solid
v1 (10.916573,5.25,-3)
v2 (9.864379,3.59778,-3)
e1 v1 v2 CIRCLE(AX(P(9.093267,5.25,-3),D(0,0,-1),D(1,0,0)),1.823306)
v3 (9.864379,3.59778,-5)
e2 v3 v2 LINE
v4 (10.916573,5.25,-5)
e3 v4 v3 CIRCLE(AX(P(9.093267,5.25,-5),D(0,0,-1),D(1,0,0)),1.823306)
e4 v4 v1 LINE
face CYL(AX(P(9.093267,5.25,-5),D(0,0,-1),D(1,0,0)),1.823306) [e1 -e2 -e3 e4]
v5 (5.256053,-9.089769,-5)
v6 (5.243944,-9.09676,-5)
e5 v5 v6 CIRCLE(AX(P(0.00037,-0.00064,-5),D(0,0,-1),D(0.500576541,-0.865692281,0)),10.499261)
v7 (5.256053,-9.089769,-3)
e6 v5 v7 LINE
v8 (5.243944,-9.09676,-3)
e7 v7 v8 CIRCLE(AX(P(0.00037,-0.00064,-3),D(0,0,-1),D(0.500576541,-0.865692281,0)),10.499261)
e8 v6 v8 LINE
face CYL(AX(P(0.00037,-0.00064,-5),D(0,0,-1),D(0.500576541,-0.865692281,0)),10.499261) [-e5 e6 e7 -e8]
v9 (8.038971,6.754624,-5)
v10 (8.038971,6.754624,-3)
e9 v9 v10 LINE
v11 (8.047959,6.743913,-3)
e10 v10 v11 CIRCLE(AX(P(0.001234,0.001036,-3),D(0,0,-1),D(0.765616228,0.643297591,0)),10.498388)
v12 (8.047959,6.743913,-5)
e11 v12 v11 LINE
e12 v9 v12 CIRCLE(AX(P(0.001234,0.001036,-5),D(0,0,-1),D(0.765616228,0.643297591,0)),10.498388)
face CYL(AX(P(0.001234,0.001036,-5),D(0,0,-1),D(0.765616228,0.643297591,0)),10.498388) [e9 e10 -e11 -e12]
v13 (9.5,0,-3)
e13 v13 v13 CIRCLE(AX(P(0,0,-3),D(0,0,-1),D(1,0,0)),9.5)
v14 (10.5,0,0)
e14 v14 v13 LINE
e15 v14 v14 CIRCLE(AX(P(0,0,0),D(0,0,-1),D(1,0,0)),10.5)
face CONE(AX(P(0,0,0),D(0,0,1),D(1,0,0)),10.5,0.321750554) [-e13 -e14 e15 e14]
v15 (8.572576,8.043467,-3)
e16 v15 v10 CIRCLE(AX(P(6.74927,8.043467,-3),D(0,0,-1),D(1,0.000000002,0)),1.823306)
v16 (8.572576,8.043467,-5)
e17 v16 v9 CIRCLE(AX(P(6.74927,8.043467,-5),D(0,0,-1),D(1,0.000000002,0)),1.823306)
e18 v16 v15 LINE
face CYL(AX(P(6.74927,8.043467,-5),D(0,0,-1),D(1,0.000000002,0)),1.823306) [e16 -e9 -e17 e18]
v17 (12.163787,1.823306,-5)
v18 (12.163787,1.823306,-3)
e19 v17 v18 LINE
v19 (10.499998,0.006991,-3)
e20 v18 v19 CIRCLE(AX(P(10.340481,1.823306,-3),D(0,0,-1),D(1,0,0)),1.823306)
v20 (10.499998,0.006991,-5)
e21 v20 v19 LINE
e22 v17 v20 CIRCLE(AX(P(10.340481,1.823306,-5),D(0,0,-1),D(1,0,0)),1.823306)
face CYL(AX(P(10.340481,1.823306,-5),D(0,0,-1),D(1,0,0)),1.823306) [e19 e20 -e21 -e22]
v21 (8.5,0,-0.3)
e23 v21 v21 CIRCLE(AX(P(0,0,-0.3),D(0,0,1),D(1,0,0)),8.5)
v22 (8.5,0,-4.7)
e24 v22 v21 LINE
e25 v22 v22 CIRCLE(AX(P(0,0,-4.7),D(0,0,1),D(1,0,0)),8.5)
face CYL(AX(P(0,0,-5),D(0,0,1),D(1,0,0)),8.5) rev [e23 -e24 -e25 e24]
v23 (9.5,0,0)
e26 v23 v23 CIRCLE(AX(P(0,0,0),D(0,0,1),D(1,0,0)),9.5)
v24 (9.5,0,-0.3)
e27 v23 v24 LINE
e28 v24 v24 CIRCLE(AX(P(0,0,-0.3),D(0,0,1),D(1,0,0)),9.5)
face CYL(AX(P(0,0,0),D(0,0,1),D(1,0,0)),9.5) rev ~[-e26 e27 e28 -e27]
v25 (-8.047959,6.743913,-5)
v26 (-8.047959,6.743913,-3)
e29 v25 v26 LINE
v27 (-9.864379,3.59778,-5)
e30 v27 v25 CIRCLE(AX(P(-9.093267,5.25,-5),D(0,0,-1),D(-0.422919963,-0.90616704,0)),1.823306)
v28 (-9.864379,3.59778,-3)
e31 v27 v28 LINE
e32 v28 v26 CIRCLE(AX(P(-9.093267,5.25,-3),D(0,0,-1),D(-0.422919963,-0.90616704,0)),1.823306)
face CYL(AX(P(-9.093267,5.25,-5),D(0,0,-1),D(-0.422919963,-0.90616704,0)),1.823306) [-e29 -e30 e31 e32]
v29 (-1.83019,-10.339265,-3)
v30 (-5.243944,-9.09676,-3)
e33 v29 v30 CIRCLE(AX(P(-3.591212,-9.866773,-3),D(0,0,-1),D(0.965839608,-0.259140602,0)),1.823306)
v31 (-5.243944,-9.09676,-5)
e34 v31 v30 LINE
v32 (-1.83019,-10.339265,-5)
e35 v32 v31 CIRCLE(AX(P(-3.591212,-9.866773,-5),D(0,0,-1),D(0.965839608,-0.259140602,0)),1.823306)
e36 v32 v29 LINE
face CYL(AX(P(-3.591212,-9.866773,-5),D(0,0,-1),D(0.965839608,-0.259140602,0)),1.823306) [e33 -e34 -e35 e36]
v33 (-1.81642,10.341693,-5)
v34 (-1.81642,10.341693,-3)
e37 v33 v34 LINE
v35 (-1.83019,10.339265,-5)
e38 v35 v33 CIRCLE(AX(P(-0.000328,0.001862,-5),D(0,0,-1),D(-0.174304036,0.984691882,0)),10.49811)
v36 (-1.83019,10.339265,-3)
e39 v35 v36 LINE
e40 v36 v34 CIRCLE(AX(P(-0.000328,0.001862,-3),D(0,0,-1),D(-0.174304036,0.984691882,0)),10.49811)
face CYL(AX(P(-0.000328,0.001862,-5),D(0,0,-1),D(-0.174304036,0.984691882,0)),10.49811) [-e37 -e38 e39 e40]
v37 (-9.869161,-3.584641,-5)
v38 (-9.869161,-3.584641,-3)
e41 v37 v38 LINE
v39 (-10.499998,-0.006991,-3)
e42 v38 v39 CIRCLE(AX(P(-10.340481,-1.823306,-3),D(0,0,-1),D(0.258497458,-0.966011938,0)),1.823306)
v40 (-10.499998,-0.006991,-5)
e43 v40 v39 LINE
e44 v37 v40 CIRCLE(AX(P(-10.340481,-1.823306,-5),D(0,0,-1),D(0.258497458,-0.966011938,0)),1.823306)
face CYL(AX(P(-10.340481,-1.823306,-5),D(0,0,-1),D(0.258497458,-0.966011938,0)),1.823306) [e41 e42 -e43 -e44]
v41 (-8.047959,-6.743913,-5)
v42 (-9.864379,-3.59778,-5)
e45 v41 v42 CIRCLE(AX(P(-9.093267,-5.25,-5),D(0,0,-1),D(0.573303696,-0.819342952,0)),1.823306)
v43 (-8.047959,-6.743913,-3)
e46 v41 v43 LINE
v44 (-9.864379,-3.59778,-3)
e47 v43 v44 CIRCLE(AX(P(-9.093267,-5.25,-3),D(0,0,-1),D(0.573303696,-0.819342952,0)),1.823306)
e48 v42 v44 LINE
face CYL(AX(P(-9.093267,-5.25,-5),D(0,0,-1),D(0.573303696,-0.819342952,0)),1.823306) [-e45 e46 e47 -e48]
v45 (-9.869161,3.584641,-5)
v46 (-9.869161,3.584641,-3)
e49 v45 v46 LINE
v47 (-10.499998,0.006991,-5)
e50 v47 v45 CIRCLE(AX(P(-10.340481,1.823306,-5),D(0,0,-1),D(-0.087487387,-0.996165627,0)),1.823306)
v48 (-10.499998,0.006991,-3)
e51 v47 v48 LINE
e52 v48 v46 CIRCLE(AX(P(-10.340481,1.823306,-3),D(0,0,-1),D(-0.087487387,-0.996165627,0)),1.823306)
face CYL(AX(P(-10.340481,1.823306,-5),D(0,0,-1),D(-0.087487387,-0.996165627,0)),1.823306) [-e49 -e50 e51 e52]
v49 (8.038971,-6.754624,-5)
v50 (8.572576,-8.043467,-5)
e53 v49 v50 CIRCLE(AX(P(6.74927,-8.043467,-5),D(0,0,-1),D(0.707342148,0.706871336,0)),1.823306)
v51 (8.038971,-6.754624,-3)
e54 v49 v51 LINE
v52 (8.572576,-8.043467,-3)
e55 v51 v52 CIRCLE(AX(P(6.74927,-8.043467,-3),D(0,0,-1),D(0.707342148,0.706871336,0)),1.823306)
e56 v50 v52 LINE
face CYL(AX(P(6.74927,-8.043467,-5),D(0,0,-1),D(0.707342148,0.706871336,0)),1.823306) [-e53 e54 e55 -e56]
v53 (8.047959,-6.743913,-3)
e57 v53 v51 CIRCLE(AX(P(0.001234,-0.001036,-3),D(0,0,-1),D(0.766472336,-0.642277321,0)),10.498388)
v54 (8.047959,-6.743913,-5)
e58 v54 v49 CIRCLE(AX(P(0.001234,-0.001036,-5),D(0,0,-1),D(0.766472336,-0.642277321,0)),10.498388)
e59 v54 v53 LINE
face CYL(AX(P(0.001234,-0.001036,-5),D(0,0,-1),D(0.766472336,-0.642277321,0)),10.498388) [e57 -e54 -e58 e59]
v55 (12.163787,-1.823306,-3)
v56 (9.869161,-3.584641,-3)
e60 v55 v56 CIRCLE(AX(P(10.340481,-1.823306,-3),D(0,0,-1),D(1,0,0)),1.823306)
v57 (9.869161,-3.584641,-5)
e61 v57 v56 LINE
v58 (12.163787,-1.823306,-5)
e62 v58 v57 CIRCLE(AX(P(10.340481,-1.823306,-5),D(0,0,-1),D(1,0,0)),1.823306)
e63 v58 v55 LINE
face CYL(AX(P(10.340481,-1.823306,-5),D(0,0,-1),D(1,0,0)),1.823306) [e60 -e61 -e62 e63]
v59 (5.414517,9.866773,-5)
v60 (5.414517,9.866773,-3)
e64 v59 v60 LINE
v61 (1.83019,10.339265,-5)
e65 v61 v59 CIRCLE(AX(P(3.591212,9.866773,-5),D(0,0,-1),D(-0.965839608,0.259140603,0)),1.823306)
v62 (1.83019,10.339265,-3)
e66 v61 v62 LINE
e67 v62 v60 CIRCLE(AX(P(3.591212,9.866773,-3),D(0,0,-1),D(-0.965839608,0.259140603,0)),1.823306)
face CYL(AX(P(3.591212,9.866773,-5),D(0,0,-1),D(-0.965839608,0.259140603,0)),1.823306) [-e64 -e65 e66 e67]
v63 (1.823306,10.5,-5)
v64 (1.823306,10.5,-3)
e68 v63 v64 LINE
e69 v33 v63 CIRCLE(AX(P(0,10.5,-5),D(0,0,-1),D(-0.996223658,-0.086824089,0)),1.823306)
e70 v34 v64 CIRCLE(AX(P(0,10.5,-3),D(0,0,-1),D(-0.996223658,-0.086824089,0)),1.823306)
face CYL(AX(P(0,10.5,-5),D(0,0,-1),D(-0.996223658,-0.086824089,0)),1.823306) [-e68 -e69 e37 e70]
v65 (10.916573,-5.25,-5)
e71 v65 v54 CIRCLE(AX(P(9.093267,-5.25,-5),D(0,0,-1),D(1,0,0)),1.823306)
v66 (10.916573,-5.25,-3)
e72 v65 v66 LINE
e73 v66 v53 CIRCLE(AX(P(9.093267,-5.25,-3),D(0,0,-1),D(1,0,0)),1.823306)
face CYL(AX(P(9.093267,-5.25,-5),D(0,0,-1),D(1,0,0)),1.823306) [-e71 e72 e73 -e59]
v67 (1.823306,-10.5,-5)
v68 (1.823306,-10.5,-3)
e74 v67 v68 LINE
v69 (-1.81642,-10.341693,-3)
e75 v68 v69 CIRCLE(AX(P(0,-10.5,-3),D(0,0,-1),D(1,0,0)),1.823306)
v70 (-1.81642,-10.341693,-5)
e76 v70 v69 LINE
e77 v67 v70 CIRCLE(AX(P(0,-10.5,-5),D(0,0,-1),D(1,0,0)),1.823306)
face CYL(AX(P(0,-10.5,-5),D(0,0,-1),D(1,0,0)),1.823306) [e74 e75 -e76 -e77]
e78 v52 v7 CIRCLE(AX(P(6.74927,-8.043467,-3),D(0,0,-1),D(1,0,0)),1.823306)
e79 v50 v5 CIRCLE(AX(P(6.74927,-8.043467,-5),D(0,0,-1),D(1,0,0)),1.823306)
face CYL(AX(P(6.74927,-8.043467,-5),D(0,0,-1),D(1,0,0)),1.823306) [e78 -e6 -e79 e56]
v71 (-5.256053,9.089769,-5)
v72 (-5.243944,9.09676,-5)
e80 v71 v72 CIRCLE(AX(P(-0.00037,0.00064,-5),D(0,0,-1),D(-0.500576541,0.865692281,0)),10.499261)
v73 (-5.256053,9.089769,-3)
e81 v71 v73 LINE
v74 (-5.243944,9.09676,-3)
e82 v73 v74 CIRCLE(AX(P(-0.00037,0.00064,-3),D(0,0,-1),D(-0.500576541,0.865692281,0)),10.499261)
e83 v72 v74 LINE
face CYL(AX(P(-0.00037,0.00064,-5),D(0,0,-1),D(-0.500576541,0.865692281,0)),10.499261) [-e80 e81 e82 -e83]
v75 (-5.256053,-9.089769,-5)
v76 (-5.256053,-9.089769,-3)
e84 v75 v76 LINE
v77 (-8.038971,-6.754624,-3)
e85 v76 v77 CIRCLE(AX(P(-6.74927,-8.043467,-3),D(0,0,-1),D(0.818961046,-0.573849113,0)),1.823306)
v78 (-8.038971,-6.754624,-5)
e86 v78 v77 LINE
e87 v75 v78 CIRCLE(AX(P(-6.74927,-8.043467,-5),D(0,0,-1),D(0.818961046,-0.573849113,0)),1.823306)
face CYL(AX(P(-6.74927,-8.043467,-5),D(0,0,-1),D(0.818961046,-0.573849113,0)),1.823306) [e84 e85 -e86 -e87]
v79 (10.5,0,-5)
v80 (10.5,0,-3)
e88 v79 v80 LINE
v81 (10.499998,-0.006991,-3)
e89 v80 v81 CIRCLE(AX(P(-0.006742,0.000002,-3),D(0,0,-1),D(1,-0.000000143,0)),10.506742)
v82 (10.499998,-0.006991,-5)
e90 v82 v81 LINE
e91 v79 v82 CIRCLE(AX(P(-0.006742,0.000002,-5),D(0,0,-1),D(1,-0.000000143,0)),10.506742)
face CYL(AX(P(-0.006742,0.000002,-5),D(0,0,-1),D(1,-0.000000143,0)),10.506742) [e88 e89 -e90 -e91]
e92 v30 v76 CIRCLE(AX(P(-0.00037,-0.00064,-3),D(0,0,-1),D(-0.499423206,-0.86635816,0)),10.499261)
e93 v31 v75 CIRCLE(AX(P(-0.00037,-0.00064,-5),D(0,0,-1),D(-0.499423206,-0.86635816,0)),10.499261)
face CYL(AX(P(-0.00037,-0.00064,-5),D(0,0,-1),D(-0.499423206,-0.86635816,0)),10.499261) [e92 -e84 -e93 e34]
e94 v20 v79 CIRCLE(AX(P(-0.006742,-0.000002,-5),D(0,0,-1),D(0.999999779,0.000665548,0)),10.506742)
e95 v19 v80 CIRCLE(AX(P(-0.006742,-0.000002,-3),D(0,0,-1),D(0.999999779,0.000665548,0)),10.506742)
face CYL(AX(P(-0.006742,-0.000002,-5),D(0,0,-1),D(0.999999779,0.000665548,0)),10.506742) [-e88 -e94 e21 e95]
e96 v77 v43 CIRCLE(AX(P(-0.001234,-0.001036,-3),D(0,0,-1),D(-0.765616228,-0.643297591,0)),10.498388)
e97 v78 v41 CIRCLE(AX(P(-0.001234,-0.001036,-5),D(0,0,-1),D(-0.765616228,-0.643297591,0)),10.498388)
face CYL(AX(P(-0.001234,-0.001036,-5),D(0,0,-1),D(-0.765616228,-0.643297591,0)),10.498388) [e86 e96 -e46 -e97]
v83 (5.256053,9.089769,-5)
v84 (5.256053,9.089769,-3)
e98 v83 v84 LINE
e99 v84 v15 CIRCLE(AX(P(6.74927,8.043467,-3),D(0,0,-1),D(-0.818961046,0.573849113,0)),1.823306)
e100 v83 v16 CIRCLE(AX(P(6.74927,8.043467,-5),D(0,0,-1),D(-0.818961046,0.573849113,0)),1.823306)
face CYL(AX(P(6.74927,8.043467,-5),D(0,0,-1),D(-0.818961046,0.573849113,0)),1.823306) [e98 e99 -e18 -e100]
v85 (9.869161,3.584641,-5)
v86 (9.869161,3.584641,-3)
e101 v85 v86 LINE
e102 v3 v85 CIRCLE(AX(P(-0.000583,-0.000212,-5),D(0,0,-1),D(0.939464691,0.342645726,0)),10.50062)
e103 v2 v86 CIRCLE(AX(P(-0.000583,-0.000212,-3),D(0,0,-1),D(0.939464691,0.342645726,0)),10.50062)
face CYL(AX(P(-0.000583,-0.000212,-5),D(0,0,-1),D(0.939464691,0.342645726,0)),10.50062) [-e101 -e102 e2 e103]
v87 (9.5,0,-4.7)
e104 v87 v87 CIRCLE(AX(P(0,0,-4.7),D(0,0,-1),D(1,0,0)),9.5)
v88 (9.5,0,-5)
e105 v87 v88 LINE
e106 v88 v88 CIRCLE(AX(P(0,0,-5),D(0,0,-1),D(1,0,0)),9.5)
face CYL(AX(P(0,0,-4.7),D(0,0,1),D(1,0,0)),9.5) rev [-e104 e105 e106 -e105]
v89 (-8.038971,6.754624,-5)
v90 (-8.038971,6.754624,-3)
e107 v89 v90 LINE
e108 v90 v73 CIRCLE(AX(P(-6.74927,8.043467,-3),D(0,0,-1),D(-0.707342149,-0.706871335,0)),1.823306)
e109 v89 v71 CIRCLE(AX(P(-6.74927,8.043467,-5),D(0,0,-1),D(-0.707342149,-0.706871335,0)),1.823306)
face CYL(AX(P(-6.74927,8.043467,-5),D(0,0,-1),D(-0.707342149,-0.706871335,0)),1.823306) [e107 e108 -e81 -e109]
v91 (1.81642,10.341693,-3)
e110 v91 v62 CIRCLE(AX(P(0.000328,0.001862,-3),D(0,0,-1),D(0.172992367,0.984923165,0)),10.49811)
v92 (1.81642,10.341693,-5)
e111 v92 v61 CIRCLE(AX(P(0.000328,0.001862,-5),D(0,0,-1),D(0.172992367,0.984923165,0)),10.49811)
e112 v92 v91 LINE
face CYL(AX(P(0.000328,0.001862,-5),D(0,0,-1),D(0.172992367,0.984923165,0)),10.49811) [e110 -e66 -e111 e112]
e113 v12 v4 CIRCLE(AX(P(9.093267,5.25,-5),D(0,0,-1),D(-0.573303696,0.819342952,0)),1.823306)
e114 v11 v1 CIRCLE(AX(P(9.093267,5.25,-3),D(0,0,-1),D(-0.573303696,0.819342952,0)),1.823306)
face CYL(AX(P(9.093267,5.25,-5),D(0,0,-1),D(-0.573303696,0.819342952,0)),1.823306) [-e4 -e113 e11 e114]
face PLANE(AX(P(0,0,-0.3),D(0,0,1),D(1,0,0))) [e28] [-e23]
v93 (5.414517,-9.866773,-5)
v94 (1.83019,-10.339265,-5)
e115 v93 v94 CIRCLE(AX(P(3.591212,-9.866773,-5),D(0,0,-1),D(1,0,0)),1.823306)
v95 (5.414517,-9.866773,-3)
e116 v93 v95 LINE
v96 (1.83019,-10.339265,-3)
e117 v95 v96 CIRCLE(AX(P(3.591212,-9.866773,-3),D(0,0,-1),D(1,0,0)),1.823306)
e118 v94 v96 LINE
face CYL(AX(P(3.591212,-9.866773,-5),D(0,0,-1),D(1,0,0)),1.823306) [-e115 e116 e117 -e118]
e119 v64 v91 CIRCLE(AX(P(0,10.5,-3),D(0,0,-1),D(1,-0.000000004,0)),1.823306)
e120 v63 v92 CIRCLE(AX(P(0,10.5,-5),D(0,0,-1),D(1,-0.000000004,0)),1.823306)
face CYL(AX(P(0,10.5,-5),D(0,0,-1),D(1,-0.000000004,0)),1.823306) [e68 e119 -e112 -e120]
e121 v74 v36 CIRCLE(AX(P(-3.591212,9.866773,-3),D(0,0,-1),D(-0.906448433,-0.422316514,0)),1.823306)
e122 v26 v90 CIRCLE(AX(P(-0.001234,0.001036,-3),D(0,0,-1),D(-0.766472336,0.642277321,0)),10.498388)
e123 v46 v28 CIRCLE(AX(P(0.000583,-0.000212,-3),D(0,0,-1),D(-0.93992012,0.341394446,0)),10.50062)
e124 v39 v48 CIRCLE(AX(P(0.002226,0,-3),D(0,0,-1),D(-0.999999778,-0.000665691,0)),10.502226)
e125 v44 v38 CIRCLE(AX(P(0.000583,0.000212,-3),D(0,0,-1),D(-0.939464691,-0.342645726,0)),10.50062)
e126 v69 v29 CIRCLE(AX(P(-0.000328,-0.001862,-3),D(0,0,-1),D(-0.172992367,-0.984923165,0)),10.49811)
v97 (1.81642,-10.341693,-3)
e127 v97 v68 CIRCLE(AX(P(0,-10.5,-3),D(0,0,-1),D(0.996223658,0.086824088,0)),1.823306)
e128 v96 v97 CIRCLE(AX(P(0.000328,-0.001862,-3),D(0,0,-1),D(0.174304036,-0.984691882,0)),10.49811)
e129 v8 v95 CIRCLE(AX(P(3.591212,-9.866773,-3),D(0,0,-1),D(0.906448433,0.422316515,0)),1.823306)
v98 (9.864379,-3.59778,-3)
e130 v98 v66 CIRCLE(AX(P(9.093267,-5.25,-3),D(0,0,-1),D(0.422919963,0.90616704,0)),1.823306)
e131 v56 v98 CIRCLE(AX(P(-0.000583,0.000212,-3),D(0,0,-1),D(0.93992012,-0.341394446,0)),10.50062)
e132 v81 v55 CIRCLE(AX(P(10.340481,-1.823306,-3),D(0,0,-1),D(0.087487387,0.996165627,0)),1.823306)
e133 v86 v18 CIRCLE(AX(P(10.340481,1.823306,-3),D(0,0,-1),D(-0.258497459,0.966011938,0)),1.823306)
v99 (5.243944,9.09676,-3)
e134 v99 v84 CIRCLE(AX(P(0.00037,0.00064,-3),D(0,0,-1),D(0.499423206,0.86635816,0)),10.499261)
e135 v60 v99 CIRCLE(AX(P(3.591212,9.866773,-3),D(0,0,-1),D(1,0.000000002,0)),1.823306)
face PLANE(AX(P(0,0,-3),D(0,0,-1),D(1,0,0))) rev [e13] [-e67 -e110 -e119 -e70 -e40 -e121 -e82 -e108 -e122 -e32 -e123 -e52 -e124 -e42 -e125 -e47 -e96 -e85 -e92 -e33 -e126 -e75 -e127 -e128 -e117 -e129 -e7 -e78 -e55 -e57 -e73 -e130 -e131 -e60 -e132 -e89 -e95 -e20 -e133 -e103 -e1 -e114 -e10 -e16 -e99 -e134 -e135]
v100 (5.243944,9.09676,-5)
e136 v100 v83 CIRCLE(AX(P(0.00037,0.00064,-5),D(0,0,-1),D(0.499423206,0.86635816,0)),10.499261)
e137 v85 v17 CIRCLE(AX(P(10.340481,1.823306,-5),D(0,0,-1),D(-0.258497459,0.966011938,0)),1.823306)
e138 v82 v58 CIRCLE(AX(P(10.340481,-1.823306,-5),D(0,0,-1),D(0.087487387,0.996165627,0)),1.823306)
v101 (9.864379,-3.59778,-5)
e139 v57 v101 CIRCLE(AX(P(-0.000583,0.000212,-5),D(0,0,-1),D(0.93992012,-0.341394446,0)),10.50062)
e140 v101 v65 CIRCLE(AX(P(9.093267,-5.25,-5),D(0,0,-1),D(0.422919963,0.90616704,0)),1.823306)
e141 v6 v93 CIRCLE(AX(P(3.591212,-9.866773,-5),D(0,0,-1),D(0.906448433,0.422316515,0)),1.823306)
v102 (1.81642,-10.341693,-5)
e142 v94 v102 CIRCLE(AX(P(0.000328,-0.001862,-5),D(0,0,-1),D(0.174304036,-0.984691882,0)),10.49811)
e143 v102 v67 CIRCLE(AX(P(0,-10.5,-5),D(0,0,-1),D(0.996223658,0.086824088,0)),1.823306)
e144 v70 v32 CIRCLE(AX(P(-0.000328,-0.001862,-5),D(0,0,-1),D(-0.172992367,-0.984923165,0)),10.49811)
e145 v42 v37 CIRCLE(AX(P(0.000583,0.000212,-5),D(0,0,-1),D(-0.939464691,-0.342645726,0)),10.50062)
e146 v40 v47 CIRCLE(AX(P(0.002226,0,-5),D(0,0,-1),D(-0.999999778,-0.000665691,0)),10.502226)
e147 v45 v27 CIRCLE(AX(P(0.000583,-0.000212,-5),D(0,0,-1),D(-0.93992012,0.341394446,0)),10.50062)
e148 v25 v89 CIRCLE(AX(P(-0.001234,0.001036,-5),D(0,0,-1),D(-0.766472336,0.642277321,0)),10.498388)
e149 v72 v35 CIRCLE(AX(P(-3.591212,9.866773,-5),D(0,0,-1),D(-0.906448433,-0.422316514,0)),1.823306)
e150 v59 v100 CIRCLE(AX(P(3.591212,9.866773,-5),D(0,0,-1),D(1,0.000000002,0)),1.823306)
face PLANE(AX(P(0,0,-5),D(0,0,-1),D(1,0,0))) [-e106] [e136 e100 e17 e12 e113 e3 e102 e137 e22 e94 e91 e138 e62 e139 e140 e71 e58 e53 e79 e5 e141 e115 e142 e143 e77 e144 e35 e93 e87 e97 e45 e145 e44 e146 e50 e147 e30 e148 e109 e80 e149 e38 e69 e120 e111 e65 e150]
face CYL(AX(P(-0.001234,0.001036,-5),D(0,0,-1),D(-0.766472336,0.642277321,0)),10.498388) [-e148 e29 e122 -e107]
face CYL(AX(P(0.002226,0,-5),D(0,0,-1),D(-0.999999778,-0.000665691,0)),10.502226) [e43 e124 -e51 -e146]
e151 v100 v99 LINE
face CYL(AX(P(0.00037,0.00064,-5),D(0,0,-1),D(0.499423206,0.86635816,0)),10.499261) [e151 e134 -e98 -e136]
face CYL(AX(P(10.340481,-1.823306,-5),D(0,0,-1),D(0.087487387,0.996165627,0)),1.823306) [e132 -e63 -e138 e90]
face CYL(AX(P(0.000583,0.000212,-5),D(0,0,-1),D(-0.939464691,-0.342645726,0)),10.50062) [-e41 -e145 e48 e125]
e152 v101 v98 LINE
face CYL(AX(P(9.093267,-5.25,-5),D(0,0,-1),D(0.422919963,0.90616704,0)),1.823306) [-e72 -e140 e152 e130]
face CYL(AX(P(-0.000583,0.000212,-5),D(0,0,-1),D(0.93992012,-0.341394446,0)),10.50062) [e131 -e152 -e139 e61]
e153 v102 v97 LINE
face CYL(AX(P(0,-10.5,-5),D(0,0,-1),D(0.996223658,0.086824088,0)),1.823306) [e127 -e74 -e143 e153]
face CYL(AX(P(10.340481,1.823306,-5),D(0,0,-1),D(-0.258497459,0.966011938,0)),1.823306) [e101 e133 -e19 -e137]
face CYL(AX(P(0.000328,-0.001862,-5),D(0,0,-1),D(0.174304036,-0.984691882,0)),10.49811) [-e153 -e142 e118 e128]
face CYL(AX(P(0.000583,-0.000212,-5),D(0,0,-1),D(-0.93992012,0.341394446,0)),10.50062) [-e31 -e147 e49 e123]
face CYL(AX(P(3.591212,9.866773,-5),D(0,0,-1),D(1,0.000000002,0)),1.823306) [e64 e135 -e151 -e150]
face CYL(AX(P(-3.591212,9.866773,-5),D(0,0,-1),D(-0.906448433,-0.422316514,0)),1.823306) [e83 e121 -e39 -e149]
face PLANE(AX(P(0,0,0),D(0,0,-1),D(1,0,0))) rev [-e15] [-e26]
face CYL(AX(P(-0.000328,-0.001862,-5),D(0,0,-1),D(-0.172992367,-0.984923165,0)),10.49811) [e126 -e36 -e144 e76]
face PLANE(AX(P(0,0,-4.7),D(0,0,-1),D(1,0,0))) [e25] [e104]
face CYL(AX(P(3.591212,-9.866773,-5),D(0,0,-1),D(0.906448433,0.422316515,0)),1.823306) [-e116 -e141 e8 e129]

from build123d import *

# Parameters (mm, degrees)
CUT_EXTRUDE_START   = -2
SKETCH_2_R          = 13.5
CUT_EXTRUDE_3_DEPTH = 2
SKETCH_3_R          = 9.5
CUT_EXTRUDE_4_DEPTH = 0.3
CUT_EXTRUDE_START_2 = -0.3
SKETCH_4_R          = 9.5
CUT_EXTRUDE_5_DEPTH = 0.3


with BuildPart() as part:
    # 草图1 → 旋转1 (revolve)
    with BuildSketch(Plane(origin=(0, 0, 0), x_dir=(0, 0, -1), z_dir=(1, 0, 0)), mode=Mode.PRIVATE) as revolve_1_sk:
        Polygon((0, 8.5), (0, 10.5), (3, 9.5), (3, 13.5), (5, 13.5), (5, 8.5), align=None)
    revolve(revolve_1_sk.sketch.rotate(Axis((0, 0, 0), (0, 0, -1)), 90), axis=Axis((0, 0, 0), (0, 0, -1)))

    # 草图2 → 切除-拉伸3 (cut)
    with BuildSketch(Plane.XY.offset(-3).offset(CUT_EXTRUDE_START)):
        Circle(SKETCH_2_R)
        with BuildLine():
            ThreePointArc((10.499997673, 0.006991234), (10.499999418, 0.003495617), (10.5, 0))
            ThreePointArc((10.5, 0), (10.499999418, -0.003495617), (10.499997673, -0.006991234))
            ThreePointArc((10.499997673, -0.006991234), (11.684968525, -0.591722061), (12.163787272, -1.823305866))
            ThreePointArc((12.163787272, -1.823305866), (11.450680461, -3.269646883), (9.869161474, -3.584641098))
            ThreePointArc((9.869161474, -3.584641098), (9.866772518, -3.591211505), (9.864379188, -3.59778032))
            ThreePointArc((9.864379188, -3.59778032), (10.631190361, -4.270594459), (10.916572605, -5.25))
            ThreePointArc((10.916572605, -5.25), (9.935444894, -6.86715189), (8.047958748, -6.74391281))
            ThreePointArc((8.047958748, -6.74391281), (8.043466653, -6.749269902), (8.038970991, -6.754624002))
            ThreePointArc((8.038970991, -6.754624002), (8.433900995, -7.345998116), (8.572575767, -8.043466653))
            ThreePointArc((8.572575767, -8.043466653), (7.297837999, -9.782293074), (5.256053423, -9.089769107))
            ThreePointArc((5.256053423, -9.089769107), (5.25, -9.09326674), (5.24394425, -9.096760341))
            ThreePointArc((5.24394425, -9.096760341), (5.371363407, -9.472433216), (5.41451737, -9.866772518))
            ThreePointArc((5.41451737, -9.866772518), (3.829501581, -11.674440109), (1.830190483, -10.339265099))
            ThreePointArc((1.830190483, -10.339265099), (1.823305866, -10.340481407), (1.81642044, -10.34169313))
            ThreePointArc((1.81642044, -10.34169313), (1.821583696, -10.420771731), (1.823305866, -10.5))
            ThreePointArc((1.823305866, -10.5), (-0.079228269, -12.321583696), (-1.81642044, -10.34169313))
            ThreePointArc((-1.81642044, -10.34169313), (-1.823305866, -10.340481407), (-1.830190483, -10.339265099))
            ThreePointArc((-1.830190483, -10.339265099), (-4.214818838, -11.580119586), (-5.24394425, -9.096760341))
            ThreePointArc((-5.24394425, -9.096760341), (-5.25, -9.09326674), (-5.256053423, -9.089769107))
            ThreePointArc((-5.256053423, -9.089769107), (-7.921268321, -9.440199979), (-8.038970991, -6.754624002))
            ThreePointArc((-8.038970991, -6.754624002), (-8.043466653, -6.749269902), (-8.047958748, -6.74391281))
            ThreePointArc((-8.047958748, -6.74391281), (-10.672295938, -6.161652933), (-9.864379188, -3.59778032))
            ThreePointArc((-9.864379188, -3.59778032), (-9.866772518, -3.591211505), (-9.869161474, -3.584641098))
            ThreePointArc((-9.869161474, -3.584641098), (-12.136087159, -2.139919606), (-10.499997673, -0.006991234))
            ThreePointArc((-10.499997673, -0.006991234), (-10.5, 0), (-10.499997673, 0.006991234))
            ThreePointArc((-10.499997673, 0.006991234), (-12.136087159, 2.139919606), (-9.869161474, 3.584641098))
            ThreePointArc((-9.869161474, 3.584641098), (-9.866772518, 3.591211505), (-9.864379188, 3.59778032))
            ThreePointArc((-9.864379188, 3.59778032), (-10.672295938, 6.161652933), (-8.047958748, 6.74391281))
            ThreePointArc((-8.047958748, 6.74391281), (-8.043466653, 6.749269902), (-8.038970991, 6.754624002))
            ThreePointArc((-8.038970991, 6.754624002), (-7.921268321, 9.440199979), (-5.256053423, 9.089769107))
            ThreePointArc((-5.256053423, 9.089769107), (-5.25, 9.09326674), (-5.24394425, 9.096760341))
            ThreePointArc((-5.24394425, 9.096760341), (-4.214818838, 11.580119586), (-1.830190483, 10.339265099))
            ThreePointArc((-1.830190483, 10.339265099), (-1.823305866, 10.340481407), (-1.81642044, 10.34169313))
            ThreePointArc((-1.81642044, 10.34169313), (-0.079228269, 12.321583696), (1.823305866, 10.5))
            ThreePointArc((1.823305866, 10.5), (1.821583696, 10.420771731), (1.81642044, 10.34169313))
            ThreePointArc((1.81642044, 10.34169313), (1.823305866, 10.340481407), (1.830190483, 10.339265099))
            ThreePointArc((1.830190483, 10.339265099), (3.829501581, 11.674440109), (5.41451737, 9.866772518))
            ThreePointArc((5.41451737, 9.866772518), (5.371363407, 9.472433216), (5.24394425, 9.096760341))
            ThreePointArc((5.24394425, 9.096760341), (5.25, 9.09326674), (5.256053423, 9.089769107))
            ThreePointArc((5.256053423, 9.089769107), (7.297837999, 9.782293074), (8.572575767, 8.043466653))
            ThreePointArc((8.572575767, 8.043466653), (8.433900995, 7.345998116), (8.038970991, 6.754624002))
            ThreePointArc((8.038970991, 6.754624002), (8.043466653, 6.749269902), (8.047958748, 6.74391281))
            ThreePointArc((8.047958748, 6.74391281), (9.935444894, 6.86715189), (10.916572605, 5.25))
            ThreePointArc((10.916572605, 5.25), (10.631190361, 4.270594459), (9.864379188, 3.59778032))
            ThreePointArc((9.864379188, 3.59778032), (9.866772518, 3.591211505), (9.869161474, 3.584641098))
            ThreePointArc((9.869161474, 3.584641098), (11.450680461, 3.269646883), (12.163787272, 1.823305866))
            ThreePointArc((12.163787272, 1.823305866), (11.684968525, 0.591722061), (10.499997673, 0.006991234))
        make_face(mode=Mode.SUBTRACT)
    extrude(amount=CUT_EXTRUDE_3_DEPTH, mode=Mode.SUBTRACT)

    # 草图3 → 切除-拉伸4 (cut)
    with BuildSketch(Plane.XY):
        Circle(SKETCH_3_R)
    extrude(amount=-CUT_EXTRUDE_4_DEPTH, mode=Mode.SUBTRACT)

    # 草图4 → 切除-拉伸5 (cut)
    with BuildSketch(Plane(origin=(0, 0, -5), x_dir=(-1, 0, 0), z_dir=(0, 0, -1)).offset(CUT_EXTRUDE_START_2)):
        with Locations(Location((0, 0, 0), (0, 0, 180))):
            Circle(SKETCH_4_R)
    extrude(amount=CUT_EXTRUDE_5_DEPTH, mode=Mode.SUBTRACT)


solid = part.part
